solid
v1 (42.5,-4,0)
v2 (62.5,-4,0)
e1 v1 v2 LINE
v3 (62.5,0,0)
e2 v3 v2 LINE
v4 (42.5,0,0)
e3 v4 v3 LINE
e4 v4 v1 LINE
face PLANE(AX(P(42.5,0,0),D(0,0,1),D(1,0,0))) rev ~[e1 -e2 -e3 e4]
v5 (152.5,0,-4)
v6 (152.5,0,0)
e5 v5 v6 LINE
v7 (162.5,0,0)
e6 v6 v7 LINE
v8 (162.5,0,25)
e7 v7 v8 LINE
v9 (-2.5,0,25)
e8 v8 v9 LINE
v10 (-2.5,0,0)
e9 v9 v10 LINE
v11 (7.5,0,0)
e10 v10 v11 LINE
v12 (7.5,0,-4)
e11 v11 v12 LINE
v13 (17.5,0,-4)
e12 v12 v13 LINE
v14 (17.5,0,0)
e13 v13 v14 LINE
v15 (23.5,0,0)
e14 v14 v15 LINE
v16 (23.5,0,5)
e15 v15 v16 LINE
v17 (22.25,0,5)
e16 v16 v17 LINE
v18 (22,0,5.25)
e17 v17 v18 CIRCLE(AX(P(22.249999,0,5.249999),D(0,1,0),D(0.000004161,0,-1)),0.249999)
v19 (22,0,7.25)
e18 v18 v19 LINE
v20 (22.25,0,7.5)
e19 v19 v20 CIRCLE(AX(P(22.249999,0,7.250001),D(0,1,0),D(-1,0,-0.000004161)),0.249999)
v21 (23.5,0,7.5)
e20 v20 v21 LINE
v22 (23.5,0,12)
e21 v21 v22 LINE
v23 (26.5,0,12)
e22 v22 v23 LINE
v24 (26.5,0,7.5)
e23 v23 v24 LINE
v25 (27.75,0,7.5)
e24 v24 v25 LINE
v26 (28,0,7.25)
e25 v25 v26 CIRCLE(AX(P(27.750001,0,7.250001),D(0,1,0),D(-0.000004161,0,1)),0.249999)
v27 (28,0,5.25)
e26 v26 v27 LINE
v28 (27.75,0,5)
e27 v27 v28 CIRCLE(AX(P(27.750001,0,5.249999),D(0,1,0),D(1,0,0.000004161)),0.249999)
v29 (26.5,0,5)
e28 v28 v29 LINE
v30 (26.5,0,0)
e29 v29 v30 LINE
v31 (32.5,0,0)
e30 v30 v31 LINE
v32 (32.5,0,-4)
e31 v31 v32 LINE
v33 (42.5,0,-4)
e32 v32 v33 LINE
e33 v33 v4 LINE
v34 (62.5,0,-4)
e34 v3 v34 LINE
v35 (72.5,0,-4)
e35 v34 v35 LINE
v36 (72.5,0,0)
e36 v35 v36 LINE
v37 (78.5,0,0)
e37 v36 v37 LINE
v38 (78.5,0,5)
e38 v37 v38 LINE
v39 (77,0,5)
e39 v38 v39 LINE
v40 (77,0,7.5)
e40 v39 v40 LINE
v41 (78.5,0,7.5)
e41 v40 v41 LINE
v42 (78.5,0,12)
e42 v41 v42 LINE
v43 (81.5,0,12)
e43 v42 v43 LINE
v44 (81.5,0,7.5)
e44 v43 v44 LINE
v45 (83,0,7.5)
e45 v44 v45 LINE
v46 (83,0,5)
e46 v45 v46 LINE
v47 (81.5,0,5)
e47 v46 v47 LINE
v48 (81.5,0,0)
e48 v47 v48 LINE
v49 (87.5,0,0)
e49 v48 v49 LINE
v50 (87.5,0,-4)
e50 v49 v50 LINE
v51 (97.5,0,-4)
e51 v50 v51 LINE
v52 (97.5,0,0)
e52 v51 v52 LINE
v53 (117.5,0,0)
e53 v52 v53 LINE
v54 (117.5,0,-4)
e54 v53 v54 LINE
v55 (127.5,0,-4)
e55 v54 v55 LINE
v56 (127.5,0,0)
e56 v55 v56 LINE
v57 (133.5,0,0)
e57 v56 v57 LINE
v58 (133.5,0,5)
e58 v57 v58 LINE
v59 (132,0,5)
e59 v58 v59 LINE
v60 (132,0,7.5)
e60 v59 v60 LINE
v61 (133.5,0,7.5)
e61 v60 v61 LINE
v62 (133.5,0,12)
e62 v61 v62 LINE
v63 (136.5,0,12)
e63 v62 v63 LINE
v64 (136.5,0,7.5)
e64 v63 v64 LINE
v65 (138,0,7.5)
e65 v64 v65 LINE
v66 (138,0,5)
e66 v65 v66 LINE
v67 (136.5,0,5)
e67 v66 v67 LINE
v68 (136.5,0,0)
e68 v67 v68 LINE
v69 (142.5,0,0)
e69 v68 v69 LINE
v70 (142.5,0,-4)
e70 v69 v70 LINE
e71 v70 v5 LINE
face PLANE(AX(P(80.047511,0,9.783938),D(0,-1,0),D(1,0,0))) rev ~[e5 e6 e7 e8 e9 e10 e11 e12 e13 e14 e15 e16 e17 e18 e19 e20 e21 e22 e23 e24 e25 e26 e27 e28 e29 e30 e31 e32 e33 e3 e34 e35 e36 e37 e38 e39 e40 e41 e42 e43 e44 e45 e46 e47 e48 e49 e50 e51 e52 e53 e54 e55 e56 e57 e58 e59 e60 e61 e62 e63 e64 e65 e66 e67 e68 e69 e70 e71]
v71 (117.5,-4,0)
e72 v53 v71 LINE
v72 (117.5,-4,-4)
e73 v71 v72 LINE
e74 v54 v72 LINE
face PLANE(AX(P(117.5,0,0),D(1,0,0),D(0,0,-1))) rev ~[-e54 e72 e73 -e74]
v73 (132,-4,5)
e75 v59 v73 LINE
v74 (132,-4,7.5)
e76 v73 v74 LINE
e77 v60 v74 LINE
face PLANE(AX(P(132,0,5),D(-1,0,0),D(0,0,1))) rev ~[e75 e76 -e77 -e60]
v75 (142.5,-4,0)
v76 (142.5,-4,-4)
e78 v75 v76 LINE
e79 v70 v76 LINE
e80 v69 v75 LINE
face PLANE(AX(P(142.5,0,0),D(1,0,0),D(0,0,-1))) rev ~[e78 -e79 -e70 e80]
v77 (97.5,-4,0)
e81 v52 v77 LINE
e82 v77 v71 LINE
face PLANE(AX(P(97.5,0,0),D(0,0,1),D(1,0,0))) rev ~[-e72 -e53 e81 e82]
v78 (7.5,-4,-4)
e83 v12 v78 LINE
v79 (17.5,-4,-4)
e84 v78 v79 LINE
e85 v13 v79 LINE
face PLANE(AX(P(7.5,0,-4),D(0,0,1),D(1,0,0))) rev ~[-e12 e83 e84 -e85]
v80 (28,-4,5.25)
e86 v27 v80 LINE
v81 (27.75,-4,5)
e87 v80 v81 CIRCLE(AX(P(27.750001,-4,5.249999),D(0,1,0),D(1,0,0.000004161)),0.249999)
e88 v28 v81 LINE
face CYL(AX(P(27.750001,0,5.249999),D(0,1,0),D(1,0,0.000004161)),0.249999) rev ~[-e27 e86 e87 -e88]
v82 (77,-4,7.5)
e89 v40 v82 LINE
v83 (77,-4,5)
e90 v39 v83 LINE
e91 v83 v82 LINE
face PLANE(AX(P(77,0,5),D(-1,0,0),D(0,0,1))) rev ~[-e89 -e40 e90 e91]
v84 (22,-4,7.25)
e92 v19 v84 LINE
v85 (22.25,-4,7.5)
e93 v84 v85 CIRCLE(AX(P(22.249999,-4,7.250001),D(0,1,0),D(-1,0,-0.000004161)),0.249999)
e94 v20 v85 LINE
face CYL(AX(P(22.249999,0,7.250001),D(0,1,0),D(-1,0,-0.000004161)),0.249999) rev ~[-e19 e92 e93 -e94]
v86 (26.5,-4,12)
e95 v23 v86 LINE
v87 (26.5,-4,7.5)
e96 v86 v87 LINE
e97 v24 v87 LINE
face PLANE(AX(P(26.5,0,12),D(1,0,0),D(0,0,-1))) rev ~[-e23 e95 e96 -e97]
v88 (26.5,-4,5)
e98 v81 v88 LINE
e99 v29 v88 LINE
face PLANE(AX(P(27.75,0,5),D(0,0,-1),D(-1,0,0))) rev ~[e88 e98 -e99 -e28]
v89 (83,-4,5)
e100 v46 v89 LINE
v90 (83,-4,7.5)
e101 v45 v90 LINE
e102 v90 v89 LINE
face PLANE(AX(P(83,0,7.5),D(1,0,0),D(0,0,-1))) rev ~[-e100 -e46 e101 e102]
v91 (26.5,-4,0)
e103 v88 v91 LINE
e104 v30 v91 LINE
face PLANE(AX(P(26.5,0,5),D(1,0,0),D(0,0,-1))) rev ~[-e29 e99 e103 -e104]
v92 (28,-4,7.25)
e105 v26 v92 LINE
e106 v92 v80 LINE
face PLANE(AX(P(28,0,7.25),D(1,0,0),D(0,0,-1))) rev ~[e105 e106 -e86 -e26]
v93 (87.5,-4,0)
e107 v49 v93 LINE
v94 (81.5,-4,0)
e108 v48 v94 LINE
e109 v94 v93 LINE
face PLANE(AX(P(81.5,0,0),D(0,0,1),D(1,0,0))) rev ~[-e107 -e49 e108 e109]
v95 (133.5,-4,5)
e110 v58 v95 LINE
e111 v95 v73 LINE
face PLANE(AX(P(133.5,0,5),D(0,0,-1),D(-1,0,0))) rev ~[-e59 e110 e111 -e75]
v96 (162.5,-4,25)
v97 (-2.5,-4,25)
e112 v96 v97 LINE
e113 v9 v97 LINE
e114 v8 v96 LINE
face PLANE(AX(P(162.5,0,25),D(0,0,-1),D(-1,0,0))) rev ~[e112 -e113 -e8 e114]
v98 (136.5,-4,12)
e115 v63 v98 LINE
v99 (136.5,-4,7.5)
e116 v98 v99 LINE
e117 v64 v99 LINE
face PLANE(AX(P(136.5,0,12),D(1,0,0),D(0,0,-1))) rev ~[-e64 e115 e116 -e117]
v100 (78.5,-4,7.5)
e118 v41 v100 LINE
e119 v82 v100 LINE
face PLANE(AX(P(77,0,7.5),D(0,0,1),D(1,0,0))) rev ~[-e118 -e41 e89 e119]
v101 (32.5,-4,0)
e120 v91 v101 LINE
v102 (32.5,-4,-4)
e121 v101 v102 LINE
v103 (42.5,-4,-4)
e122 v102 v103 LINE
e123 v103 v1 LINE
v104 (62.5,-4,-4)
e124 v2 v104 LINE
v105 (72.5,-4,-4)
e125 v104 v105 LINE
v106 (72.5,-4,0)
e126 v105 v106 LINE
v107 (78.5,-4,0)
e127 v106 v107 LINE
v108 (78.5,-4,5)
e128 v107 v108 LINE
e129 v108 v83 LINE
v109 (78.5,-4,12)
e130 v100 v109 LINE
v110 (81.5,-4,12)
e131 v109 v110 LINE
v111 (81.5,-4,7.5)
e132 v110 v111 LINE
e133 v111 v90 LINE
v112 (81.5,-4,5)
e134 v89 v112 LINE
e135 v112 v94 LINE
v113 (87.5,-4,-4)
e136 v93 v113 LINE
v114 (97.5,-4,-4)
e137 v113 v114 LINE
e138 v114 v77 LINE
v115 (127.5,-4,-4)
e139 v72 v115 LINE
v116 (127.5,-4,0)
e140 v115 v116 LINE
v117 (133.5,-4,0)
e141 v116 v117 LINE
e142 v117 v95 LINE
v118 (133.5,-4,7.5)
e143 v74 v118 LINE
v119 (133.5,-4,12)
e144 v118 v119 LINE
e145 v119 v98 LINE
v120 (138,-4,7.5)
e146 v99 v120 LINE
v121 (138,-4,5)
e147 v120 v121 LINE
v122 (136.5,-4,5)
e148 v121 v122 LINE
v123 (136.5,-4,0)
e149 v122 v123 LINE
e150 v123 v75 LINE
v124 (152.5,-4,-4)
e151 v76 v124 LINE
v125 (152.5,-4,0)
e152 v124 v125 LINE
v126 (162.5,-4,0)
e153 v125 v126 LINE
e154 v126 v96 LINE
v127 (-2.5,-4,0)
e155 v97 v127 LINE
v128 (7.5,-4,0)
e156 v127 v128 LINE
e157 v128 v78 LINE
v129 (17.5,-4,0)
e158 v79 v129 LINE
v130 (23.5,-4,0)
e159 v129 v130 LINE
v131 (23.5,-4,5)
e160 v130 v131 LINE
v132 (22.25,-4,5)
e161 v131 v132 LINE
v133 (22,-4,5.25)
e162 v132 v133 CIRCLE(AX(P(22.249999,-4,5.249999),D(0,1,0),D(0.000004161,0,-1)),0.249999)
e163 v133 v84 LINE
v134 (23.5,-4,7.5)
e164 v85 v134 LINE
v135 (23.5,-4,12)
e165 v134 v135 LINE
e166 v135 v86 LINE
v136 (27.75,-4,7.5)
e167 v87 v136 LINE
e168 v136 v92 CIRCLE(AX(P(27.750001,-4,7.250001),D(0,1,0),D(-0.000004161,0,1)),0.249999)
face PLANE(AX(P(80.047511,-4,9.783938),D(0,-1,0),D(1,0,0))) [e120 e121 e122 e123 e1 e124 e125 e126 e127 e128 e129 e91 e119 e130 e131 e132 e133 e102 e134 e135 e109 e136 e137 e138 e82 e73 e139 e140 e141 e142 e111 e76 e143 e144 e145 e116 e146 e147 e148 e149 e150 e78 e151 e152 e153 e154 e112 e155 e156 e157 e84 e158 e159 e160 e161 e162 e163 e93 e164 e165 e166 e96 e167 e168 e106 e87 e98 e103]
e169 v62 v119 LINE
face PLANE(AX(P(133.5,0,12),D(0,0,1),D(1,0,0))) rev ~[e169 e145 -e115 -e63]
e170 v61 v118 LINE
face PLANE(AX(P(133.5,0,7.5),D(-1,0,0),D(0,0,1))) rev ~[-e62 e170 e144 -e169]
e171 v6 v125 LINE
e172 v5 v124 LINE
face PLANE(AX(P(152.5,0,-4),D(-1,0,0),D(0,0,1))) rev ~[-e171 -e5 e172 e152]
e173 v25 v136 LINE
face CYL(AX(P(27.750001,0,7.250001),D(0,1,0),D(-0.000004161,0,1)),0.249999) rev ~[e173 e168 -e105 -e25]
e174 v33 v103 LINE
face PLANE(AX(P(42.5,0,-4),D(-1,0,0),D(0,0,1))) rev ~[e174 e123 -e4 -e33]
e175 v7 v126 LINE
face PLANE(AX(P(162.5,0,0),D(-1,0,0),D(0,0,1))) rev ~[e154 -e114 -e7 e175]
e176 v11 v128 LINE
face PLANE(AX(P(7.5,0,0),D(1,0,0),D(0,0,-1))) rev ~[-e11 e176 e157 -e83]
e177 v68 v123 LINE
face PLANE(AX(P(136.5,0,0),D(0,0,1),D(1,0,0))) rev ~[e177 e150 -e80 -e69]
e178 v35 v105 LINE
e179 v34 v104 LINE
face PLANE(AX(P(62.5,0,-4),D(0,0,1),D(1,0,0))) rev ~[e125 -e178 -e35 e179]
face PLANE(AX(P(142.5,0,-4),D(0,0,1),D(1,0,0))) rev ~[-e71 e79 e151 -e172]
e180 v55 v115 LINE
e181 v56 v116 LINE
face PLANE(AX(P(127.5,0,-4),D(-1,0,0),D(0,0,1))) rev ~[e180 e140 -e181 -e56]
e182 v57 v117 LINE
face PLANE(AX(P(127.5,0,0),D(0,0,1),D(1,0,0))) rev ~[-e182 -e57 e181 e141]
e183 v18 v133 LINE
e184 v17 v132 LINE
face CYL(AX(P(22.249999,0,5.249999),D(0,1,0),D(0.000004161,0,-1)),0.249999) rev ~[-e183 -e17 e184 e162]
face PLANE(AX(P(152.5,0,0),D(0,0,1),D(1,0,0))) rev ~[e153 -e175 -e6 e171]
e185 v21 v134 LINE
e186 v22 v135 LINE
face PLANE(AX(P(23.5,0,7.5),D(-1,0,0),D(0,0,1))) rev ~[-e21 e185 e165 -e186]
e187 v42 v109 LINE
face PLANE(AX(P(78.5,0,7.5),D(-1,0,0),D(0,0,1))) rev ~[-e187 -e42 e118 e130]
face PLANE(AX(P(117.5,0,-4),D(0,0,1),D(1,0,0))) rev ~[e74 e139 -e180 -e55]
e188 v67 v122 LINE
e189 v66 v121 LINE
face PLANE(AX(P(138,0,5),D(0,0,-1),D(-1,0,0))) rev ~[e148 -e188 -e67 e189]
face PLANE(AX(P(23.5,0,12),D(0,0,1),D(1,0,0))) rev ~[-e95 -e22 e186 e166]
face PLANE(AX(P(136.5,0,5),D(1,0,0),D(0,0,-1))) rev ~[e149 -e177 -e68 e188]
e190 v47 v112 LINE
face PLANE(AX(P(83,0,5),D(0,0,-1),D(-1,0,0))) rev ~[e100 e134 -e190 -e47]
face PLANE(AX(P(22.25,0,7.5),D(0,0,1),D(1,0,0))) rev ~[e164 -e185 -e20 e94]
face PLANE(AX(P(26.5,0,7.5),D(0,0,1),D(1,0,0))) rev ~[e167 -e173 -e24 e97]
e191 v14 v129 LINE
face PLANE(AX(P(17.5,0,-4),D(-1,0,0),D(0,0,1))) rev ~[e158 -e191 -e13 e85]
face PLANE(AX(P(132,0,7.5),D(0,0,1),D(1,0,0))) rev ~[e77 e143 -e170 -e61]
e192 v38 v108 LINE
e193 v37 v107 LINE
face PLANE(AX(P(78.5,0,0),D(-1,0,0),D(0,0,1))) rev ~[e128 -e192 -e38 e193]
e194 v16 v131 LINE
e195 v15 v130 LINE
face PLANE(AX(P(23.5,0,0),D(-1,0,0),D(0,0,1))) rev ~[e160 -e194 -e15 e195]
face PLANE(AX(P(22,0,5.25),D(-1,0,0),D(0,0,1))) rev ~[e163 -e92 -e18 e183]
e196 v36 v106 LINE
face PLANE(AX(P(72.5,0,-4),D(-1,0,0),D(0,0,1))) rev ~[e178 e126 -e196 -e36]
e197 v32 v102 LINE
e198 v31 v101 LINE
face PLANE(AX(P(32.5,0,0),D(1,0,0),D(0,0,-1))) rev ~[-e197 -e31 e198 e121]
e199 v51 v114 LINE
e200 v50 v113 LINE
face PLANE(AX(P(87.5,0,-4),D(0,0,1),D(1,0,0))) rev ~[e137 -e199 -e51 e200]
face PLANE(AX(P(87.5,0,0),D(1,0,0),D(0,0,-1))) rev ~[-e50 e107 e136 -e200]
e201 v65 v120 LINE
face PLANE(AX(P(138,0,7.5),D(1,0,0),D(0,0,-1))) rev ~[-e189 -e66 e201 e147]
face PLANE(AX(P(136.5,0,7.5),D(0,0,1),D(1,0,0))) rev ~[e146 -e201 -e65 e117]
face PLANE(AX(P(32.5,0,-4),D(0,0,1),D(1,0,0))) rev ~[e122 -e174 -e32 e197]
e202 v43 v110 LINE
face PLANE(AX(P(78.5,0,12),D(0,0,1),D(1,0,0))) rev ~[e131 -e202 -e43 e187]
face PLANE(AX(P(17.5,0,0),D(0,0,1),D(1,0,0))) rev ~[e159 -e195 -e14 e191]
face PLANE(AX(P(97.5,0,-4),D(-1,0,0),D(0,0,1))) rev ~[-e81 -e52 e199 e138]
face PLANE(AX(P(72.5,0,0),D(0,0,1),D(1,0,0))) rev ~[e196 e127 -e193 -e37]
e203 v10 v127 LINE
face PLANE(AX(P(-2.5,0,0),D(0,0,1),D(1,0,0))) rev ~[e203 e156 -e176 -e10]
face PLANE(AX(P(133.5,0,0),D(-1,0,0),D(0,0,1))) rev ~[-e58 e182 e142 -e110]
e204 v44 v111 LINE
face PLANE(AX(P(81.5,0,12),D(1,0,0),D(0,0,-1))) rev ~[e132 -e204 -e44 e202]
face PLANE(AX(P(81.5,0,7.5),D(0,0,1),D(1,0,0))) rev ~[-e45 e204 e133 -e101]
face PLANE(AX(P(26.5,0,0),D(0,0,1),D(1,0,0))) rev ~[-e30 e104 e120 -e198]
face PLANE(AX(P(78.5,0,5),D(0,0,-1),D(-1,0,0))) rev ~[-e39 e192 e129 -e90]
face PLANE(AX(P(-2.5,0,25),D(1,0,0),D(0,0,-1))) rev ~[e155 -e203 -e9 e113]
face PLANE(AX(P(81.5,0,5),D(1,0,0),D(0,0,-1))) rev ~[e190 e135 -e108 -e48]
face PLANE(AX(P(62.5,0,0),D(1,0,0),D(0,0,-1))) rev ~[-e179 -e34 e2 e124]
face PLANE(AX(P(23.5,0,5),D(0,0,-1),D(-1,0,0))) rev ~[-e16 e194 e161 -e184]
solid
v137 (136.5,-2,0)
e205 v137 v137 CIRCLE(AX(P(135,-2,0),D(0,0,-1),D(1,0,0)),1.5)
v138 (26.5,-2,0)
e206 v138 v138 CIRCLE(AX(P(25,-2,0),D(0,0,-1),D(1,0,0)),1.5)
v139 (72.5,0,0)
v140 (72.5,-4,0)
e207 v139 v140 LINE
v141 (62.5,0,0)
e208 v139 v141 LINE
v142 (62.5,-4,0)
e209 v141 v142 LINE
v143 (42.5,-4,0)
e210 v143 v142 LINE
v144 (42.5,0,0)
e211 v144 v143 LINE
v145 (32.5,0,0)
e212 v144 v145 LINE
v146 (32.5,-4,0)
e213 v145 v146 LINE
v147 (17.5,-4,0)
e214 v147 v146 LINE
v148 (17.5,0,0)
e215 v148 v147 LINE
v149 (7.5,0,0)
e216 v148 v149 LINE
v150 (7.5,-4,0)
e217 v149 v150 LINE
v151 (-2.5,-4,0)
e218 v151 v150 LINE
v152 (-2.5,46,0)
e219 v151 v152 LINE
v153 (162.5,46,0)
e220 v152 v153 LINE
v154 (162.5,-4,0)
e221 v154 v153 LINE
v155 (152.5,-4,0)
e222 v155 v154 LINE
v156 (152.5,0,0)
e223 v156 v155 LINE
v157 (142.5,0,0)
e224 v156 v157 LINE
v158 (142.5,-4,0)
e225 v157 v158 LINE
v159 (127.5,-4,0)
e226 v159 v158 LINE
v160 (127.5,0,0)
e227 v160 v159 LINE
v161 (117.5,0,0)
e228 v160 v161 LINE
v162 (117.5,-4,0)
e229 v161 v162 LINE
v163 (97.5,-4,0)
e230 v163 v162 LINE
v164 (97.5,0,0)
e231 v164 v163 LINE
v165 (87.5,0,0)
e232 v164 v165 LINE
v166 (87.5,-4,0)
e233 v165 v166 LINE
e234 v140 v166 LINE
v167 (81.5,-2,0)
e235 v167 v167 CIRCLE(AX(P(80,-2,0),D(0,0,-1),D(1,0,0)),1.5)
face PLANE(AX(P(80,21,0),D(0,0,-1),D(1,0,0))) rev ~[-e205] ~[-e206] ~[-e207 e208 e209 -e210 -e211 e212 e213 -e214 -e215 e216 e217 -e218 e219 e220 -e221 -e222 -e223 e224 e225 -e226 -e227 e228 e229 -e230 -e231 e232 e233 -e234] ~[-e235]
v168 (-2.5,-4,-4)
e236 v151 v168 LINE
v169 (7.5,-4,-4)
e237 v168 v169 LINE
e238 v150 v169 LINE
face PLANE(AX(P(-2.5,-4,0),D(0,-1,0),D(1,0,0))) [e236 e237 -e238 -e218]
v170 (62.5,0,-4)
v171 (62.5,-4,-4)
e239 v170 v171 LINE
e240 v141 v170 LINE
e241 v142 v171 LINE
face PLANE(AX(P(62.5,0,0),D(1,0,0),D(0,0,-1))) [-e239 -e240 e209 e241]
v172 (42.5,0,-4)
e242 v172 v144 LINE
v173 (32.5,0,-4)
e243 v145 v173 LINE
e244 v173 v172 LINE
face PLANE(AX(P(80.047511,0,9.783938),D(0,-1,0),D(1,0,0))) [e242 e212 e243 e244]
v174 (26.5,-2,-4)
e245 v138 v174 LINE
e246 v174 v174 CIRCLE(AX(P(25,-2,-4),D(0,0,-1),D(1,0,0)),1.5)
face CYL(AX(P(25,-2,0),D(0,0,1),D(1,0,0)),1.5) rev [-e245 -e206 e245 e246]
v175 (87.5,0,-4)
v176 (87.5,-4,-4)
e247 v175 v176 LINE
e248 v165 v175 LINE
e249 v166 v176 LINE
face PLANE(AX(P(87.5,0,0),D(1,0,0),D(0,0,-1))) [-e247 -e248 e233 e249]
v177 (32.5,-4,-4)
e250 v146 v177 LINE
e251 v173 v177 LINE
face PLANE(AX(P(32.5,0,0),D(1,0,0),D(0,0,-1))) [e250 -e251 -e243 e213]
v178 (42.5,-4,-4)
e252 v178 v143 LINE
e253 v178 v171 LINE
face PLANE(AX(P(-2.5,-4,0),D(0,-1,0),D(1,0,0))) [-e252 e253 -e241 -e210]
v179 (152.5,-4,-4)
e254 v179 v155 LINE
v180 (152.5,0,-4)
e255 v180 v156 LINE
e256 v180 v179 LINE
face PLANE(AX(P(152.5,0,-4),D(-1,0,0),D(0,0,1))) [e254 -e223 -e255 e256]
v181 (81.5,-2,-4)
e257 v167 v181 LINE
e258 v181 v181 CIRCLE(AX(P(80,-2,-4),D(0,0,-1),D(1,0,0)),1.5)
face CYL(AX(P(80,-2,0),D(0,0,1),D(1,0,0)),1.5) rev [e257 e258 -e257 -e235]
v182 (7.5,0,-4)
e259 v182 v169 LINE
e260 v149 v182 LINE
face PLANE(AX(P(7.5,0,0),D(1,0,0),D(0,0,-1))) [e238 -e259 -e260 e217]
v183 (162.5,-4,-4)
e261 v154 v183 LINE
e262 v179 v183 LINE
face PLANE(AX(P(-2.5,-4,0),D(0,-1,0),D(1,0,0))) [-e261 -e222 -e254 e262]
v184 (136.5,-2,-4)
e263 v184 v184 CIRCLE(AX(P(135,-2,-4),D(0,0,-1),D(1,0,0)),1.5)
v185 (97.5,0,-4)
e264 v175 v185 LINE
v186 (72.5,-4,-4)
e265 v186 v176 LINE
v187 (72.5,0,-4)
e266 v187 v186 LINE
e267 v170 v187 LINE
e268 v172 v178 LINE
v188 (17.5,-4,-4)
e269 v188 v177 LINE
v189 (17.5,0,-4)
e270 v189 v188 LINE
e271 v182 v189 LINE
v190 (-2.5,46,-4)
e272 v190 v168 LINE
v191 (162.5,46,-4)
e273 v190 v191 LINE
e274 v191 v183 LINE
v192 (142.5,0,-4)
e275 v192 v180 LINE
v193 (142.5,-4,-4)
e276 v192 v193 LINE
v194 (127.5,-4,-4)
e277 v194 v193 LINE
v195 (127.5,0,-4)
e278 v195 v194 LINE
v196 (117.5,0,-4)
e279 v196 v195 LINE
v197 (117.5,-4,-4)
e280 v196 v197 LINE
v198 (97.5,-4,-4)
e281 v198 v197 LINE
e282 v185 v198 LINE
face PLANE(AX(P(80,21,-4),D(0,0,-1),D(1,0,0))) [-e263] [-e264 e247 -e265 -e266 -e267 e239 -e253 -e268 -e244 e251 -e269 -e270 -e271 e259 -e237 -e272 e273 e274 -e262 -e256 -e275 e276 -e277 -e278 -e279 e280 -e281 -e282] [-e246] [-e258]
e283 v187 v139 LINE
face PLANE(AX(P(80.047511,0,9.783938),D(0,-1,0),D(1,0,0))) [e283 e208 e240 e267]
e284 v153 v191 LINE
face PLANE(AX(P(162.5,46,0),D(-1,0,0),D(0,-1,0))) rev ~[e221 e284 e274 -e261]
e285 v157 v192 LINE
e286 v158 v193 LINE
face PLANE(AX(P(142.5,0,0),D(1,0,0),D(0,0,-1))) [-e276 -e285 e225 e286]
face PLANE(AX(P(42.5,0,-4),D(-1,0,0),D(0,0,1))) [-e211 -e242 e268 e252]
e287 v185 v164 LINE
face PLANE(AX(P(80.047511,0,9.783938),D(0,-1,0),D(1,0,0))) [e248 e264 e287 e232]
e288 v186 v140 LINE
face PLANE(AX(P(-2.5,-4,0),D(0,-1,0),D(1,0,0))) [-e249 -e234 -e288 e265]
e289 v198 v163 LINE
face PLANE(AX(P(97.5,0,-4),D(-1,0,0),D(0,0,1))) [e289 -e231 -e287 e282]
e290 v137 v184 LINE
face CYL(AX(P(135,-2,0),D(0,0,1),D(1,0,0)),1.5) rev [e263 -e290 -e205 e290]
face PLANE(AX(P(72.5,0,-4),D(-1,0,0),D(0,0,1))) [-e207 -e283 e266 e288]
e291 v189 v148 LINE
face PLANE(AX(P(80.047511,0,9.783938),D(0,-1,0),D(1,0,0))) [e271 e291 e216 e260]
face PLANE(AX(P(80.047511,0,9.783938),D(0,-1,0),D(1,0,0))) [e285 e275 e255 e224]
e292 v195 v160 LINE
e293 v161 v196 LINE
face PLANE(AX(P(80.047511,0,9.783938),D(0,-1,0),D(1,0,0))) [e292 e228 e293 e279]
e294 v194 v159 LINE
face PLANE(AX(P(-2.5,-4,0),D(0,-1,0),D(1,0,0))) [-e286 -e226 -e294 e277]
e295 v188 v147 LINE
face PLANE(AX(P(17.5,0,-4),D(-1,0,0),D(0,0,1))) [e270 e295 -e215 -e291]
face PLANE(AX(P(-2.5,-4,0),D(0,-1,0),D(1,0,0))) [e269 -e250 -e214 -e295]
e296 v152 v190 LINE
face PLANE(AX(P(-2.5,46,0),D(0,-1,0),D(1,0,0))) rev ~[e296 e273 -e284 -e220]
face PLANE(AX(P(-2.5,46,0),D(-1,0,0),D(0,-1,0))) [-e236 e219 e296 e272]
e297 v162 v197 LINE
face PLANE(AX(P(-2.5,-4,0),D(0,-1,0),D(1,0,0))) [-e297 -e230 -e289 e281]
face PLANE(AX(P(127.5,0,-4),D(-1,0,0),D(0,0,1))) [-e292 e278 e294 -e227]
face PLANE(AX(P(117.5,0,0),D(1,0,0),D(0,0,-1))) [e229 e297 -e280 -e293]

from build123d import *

# Parameters (mm, degrees)
F1_DEPTH = 4
F2_W     = 165
F2_H     = 50
F2_R     = 1.5
F3_DEPTH = 4


with BuildPart() as f1:
    # F0 (on Front) → F1 (new body)
    with BuildSketch(Plane.XZ):
        with BuildLine():
            Line((162.5, 25), (-2.5, 25))
            Line((-2.5, 25), (-2.5, 0))
            Line((-2.5, 0), (7.5, 0))
            Line((7.5, 0), (7.5, -4))
            Line((7.5, -4), (17.5, -4))
            Line((17.5, -4), (17.5, 0))
            Line((17.5, 0), (23.5, 0))
            Line((23.5, 0), (23.5, 5))
            Line((23.5, 5), (22.25, 5))
            ThreePointArc((22.25, 5), (22.073223, 5.073223), (22, 5.25))
            Line((22, 5.25), (22, 7.25))
            ThreePointArc((22, 7.25), (22.073223, 7.426777), (22.25, 7.5))
            Line((22.25, 7.5), (23.5, 7.5))
            Line((23.5, 7.5), (23.5, 12))
            Line((23.5, 12), (26.5, 12))
            Line((26.5, 12), (26.5, 7.5))
            Line((26.5, 7.5), (27.75, 7.5))
            ThreePointArc((27.75, 7.5), (27.926777, 7.426777), (28, 7.25))
            Line((28, 7.25), (28, 5.25))
            ThreePointArc((28, 5.25), (27.926777, 5.073223), (27.75, 5))
            Line((27.75, 5), (26.5, 5))
            Line((26.5, 5), (26.5, 0))
            Line((26.5, 0), (32.5, 0))
            Line((32.5, 0), (32.5, -4))
            Line((32.5, -4), (42.5, -4))
            Line((42.5, -4), (42.5, 0))
            Line((42.5, 0), (62.5, 0))
            Line((62.5, 0), (62.5, -4))
            Line((62.5, -4), (72.5, -4))
            Line((72.5, -4), (72.5, 0))
            Line((72.5, 0), (78.5, 0))
            Line((78.5, 0), (78.5, 5))
            Line((78.5, 5), (77, 5))
            Line((77, 5), (77, 7.5))
            Line((77, 7.5), (78.5, 7.5))
            Line((78.5, 7.5), (78.5, 12))
            Line((78.5, 12), (81.5, 12))
            Line((81.5, 12), (81.5, 7.5))
            Line((81.5, 7.5), (83, 7.5))
            Line((83, 7.5), (83, 5))
            Line((83, 5), (81.5, 5))
            Line((81.5, 5), (81.5, 0))
            Line((81.5, 0), (87.5, 0))
            Line((87.5, 0), (87.5, -4))
            Line((87.5, -4), (97.5, -4))
            Line((97.5, -4), (97.5, 0))
            Line((97.5, 0), (117.5, 0))
            Line((117.5, 0), (117.5, -4))
            Line((117.5, -4), (127.5, -4))
            Line((127.5, -4), (127.5, 0))
            Line((127.5, 0), (133.5, 0))
            Line((133.5, 0), (133.5, 5))
            Line((133.5, 5), (132, 5))
            Line((132, 5), (132, 7.5))
            Line((132, 7.5), (133.5, 7.5))
            Line((133.5, 7.5), (133.5, 12))
            Line((133.5, 12), (136.5, 12))
            Line((136.5, 12), (136.5, 7.5))
            Line((136.5, 7.5), (138, 7.5))
            Line((138, 7.5), (138, 5))
            Line((138, 5), (136.5, 5))
            Line((136.5, 5), (136.5, 0))
            Line((136.5, 0), (142.5, 0))
            Line((142.5, 0), (142.5, -4))
            Line((142.5, -4), (152.5, -4))
            Line((152.5, -4), (152.5, 0))
            Line((152.5, 0), (162.5, 0))
            Line((162.5, 0), (162.5, 25))
        make_face()
    extrude(amount=F1_DEPTH)


with BuildPart() as f3:
    # F2 (on face) → F3 (new body)
    with BuildSketch(Plane(origin=(0, 0, 0), x_dir=(1, 0, 0), z_dir=(0, 0, -1))):
        with Locations((80, -21)):
            Rectangle(F2_W, F2_H)
        with Locations((25, 2)):
            Circle(F2_R, mode=Mode.SUBTRACT)
        with Locations((80, 2)):
            Circle(F2_R, mode=Mode.SUBTRACT)
        with Locations((135, 2)):
            Circle(F2_R, mode=Mode.SUBTRACT)
    extrude(amount=F3_DEPTH)

    # F4: cut F1
    add(f1.part, mode=Mode.SUBTRACT)


solid = Compound([f1.part, f3.part])
